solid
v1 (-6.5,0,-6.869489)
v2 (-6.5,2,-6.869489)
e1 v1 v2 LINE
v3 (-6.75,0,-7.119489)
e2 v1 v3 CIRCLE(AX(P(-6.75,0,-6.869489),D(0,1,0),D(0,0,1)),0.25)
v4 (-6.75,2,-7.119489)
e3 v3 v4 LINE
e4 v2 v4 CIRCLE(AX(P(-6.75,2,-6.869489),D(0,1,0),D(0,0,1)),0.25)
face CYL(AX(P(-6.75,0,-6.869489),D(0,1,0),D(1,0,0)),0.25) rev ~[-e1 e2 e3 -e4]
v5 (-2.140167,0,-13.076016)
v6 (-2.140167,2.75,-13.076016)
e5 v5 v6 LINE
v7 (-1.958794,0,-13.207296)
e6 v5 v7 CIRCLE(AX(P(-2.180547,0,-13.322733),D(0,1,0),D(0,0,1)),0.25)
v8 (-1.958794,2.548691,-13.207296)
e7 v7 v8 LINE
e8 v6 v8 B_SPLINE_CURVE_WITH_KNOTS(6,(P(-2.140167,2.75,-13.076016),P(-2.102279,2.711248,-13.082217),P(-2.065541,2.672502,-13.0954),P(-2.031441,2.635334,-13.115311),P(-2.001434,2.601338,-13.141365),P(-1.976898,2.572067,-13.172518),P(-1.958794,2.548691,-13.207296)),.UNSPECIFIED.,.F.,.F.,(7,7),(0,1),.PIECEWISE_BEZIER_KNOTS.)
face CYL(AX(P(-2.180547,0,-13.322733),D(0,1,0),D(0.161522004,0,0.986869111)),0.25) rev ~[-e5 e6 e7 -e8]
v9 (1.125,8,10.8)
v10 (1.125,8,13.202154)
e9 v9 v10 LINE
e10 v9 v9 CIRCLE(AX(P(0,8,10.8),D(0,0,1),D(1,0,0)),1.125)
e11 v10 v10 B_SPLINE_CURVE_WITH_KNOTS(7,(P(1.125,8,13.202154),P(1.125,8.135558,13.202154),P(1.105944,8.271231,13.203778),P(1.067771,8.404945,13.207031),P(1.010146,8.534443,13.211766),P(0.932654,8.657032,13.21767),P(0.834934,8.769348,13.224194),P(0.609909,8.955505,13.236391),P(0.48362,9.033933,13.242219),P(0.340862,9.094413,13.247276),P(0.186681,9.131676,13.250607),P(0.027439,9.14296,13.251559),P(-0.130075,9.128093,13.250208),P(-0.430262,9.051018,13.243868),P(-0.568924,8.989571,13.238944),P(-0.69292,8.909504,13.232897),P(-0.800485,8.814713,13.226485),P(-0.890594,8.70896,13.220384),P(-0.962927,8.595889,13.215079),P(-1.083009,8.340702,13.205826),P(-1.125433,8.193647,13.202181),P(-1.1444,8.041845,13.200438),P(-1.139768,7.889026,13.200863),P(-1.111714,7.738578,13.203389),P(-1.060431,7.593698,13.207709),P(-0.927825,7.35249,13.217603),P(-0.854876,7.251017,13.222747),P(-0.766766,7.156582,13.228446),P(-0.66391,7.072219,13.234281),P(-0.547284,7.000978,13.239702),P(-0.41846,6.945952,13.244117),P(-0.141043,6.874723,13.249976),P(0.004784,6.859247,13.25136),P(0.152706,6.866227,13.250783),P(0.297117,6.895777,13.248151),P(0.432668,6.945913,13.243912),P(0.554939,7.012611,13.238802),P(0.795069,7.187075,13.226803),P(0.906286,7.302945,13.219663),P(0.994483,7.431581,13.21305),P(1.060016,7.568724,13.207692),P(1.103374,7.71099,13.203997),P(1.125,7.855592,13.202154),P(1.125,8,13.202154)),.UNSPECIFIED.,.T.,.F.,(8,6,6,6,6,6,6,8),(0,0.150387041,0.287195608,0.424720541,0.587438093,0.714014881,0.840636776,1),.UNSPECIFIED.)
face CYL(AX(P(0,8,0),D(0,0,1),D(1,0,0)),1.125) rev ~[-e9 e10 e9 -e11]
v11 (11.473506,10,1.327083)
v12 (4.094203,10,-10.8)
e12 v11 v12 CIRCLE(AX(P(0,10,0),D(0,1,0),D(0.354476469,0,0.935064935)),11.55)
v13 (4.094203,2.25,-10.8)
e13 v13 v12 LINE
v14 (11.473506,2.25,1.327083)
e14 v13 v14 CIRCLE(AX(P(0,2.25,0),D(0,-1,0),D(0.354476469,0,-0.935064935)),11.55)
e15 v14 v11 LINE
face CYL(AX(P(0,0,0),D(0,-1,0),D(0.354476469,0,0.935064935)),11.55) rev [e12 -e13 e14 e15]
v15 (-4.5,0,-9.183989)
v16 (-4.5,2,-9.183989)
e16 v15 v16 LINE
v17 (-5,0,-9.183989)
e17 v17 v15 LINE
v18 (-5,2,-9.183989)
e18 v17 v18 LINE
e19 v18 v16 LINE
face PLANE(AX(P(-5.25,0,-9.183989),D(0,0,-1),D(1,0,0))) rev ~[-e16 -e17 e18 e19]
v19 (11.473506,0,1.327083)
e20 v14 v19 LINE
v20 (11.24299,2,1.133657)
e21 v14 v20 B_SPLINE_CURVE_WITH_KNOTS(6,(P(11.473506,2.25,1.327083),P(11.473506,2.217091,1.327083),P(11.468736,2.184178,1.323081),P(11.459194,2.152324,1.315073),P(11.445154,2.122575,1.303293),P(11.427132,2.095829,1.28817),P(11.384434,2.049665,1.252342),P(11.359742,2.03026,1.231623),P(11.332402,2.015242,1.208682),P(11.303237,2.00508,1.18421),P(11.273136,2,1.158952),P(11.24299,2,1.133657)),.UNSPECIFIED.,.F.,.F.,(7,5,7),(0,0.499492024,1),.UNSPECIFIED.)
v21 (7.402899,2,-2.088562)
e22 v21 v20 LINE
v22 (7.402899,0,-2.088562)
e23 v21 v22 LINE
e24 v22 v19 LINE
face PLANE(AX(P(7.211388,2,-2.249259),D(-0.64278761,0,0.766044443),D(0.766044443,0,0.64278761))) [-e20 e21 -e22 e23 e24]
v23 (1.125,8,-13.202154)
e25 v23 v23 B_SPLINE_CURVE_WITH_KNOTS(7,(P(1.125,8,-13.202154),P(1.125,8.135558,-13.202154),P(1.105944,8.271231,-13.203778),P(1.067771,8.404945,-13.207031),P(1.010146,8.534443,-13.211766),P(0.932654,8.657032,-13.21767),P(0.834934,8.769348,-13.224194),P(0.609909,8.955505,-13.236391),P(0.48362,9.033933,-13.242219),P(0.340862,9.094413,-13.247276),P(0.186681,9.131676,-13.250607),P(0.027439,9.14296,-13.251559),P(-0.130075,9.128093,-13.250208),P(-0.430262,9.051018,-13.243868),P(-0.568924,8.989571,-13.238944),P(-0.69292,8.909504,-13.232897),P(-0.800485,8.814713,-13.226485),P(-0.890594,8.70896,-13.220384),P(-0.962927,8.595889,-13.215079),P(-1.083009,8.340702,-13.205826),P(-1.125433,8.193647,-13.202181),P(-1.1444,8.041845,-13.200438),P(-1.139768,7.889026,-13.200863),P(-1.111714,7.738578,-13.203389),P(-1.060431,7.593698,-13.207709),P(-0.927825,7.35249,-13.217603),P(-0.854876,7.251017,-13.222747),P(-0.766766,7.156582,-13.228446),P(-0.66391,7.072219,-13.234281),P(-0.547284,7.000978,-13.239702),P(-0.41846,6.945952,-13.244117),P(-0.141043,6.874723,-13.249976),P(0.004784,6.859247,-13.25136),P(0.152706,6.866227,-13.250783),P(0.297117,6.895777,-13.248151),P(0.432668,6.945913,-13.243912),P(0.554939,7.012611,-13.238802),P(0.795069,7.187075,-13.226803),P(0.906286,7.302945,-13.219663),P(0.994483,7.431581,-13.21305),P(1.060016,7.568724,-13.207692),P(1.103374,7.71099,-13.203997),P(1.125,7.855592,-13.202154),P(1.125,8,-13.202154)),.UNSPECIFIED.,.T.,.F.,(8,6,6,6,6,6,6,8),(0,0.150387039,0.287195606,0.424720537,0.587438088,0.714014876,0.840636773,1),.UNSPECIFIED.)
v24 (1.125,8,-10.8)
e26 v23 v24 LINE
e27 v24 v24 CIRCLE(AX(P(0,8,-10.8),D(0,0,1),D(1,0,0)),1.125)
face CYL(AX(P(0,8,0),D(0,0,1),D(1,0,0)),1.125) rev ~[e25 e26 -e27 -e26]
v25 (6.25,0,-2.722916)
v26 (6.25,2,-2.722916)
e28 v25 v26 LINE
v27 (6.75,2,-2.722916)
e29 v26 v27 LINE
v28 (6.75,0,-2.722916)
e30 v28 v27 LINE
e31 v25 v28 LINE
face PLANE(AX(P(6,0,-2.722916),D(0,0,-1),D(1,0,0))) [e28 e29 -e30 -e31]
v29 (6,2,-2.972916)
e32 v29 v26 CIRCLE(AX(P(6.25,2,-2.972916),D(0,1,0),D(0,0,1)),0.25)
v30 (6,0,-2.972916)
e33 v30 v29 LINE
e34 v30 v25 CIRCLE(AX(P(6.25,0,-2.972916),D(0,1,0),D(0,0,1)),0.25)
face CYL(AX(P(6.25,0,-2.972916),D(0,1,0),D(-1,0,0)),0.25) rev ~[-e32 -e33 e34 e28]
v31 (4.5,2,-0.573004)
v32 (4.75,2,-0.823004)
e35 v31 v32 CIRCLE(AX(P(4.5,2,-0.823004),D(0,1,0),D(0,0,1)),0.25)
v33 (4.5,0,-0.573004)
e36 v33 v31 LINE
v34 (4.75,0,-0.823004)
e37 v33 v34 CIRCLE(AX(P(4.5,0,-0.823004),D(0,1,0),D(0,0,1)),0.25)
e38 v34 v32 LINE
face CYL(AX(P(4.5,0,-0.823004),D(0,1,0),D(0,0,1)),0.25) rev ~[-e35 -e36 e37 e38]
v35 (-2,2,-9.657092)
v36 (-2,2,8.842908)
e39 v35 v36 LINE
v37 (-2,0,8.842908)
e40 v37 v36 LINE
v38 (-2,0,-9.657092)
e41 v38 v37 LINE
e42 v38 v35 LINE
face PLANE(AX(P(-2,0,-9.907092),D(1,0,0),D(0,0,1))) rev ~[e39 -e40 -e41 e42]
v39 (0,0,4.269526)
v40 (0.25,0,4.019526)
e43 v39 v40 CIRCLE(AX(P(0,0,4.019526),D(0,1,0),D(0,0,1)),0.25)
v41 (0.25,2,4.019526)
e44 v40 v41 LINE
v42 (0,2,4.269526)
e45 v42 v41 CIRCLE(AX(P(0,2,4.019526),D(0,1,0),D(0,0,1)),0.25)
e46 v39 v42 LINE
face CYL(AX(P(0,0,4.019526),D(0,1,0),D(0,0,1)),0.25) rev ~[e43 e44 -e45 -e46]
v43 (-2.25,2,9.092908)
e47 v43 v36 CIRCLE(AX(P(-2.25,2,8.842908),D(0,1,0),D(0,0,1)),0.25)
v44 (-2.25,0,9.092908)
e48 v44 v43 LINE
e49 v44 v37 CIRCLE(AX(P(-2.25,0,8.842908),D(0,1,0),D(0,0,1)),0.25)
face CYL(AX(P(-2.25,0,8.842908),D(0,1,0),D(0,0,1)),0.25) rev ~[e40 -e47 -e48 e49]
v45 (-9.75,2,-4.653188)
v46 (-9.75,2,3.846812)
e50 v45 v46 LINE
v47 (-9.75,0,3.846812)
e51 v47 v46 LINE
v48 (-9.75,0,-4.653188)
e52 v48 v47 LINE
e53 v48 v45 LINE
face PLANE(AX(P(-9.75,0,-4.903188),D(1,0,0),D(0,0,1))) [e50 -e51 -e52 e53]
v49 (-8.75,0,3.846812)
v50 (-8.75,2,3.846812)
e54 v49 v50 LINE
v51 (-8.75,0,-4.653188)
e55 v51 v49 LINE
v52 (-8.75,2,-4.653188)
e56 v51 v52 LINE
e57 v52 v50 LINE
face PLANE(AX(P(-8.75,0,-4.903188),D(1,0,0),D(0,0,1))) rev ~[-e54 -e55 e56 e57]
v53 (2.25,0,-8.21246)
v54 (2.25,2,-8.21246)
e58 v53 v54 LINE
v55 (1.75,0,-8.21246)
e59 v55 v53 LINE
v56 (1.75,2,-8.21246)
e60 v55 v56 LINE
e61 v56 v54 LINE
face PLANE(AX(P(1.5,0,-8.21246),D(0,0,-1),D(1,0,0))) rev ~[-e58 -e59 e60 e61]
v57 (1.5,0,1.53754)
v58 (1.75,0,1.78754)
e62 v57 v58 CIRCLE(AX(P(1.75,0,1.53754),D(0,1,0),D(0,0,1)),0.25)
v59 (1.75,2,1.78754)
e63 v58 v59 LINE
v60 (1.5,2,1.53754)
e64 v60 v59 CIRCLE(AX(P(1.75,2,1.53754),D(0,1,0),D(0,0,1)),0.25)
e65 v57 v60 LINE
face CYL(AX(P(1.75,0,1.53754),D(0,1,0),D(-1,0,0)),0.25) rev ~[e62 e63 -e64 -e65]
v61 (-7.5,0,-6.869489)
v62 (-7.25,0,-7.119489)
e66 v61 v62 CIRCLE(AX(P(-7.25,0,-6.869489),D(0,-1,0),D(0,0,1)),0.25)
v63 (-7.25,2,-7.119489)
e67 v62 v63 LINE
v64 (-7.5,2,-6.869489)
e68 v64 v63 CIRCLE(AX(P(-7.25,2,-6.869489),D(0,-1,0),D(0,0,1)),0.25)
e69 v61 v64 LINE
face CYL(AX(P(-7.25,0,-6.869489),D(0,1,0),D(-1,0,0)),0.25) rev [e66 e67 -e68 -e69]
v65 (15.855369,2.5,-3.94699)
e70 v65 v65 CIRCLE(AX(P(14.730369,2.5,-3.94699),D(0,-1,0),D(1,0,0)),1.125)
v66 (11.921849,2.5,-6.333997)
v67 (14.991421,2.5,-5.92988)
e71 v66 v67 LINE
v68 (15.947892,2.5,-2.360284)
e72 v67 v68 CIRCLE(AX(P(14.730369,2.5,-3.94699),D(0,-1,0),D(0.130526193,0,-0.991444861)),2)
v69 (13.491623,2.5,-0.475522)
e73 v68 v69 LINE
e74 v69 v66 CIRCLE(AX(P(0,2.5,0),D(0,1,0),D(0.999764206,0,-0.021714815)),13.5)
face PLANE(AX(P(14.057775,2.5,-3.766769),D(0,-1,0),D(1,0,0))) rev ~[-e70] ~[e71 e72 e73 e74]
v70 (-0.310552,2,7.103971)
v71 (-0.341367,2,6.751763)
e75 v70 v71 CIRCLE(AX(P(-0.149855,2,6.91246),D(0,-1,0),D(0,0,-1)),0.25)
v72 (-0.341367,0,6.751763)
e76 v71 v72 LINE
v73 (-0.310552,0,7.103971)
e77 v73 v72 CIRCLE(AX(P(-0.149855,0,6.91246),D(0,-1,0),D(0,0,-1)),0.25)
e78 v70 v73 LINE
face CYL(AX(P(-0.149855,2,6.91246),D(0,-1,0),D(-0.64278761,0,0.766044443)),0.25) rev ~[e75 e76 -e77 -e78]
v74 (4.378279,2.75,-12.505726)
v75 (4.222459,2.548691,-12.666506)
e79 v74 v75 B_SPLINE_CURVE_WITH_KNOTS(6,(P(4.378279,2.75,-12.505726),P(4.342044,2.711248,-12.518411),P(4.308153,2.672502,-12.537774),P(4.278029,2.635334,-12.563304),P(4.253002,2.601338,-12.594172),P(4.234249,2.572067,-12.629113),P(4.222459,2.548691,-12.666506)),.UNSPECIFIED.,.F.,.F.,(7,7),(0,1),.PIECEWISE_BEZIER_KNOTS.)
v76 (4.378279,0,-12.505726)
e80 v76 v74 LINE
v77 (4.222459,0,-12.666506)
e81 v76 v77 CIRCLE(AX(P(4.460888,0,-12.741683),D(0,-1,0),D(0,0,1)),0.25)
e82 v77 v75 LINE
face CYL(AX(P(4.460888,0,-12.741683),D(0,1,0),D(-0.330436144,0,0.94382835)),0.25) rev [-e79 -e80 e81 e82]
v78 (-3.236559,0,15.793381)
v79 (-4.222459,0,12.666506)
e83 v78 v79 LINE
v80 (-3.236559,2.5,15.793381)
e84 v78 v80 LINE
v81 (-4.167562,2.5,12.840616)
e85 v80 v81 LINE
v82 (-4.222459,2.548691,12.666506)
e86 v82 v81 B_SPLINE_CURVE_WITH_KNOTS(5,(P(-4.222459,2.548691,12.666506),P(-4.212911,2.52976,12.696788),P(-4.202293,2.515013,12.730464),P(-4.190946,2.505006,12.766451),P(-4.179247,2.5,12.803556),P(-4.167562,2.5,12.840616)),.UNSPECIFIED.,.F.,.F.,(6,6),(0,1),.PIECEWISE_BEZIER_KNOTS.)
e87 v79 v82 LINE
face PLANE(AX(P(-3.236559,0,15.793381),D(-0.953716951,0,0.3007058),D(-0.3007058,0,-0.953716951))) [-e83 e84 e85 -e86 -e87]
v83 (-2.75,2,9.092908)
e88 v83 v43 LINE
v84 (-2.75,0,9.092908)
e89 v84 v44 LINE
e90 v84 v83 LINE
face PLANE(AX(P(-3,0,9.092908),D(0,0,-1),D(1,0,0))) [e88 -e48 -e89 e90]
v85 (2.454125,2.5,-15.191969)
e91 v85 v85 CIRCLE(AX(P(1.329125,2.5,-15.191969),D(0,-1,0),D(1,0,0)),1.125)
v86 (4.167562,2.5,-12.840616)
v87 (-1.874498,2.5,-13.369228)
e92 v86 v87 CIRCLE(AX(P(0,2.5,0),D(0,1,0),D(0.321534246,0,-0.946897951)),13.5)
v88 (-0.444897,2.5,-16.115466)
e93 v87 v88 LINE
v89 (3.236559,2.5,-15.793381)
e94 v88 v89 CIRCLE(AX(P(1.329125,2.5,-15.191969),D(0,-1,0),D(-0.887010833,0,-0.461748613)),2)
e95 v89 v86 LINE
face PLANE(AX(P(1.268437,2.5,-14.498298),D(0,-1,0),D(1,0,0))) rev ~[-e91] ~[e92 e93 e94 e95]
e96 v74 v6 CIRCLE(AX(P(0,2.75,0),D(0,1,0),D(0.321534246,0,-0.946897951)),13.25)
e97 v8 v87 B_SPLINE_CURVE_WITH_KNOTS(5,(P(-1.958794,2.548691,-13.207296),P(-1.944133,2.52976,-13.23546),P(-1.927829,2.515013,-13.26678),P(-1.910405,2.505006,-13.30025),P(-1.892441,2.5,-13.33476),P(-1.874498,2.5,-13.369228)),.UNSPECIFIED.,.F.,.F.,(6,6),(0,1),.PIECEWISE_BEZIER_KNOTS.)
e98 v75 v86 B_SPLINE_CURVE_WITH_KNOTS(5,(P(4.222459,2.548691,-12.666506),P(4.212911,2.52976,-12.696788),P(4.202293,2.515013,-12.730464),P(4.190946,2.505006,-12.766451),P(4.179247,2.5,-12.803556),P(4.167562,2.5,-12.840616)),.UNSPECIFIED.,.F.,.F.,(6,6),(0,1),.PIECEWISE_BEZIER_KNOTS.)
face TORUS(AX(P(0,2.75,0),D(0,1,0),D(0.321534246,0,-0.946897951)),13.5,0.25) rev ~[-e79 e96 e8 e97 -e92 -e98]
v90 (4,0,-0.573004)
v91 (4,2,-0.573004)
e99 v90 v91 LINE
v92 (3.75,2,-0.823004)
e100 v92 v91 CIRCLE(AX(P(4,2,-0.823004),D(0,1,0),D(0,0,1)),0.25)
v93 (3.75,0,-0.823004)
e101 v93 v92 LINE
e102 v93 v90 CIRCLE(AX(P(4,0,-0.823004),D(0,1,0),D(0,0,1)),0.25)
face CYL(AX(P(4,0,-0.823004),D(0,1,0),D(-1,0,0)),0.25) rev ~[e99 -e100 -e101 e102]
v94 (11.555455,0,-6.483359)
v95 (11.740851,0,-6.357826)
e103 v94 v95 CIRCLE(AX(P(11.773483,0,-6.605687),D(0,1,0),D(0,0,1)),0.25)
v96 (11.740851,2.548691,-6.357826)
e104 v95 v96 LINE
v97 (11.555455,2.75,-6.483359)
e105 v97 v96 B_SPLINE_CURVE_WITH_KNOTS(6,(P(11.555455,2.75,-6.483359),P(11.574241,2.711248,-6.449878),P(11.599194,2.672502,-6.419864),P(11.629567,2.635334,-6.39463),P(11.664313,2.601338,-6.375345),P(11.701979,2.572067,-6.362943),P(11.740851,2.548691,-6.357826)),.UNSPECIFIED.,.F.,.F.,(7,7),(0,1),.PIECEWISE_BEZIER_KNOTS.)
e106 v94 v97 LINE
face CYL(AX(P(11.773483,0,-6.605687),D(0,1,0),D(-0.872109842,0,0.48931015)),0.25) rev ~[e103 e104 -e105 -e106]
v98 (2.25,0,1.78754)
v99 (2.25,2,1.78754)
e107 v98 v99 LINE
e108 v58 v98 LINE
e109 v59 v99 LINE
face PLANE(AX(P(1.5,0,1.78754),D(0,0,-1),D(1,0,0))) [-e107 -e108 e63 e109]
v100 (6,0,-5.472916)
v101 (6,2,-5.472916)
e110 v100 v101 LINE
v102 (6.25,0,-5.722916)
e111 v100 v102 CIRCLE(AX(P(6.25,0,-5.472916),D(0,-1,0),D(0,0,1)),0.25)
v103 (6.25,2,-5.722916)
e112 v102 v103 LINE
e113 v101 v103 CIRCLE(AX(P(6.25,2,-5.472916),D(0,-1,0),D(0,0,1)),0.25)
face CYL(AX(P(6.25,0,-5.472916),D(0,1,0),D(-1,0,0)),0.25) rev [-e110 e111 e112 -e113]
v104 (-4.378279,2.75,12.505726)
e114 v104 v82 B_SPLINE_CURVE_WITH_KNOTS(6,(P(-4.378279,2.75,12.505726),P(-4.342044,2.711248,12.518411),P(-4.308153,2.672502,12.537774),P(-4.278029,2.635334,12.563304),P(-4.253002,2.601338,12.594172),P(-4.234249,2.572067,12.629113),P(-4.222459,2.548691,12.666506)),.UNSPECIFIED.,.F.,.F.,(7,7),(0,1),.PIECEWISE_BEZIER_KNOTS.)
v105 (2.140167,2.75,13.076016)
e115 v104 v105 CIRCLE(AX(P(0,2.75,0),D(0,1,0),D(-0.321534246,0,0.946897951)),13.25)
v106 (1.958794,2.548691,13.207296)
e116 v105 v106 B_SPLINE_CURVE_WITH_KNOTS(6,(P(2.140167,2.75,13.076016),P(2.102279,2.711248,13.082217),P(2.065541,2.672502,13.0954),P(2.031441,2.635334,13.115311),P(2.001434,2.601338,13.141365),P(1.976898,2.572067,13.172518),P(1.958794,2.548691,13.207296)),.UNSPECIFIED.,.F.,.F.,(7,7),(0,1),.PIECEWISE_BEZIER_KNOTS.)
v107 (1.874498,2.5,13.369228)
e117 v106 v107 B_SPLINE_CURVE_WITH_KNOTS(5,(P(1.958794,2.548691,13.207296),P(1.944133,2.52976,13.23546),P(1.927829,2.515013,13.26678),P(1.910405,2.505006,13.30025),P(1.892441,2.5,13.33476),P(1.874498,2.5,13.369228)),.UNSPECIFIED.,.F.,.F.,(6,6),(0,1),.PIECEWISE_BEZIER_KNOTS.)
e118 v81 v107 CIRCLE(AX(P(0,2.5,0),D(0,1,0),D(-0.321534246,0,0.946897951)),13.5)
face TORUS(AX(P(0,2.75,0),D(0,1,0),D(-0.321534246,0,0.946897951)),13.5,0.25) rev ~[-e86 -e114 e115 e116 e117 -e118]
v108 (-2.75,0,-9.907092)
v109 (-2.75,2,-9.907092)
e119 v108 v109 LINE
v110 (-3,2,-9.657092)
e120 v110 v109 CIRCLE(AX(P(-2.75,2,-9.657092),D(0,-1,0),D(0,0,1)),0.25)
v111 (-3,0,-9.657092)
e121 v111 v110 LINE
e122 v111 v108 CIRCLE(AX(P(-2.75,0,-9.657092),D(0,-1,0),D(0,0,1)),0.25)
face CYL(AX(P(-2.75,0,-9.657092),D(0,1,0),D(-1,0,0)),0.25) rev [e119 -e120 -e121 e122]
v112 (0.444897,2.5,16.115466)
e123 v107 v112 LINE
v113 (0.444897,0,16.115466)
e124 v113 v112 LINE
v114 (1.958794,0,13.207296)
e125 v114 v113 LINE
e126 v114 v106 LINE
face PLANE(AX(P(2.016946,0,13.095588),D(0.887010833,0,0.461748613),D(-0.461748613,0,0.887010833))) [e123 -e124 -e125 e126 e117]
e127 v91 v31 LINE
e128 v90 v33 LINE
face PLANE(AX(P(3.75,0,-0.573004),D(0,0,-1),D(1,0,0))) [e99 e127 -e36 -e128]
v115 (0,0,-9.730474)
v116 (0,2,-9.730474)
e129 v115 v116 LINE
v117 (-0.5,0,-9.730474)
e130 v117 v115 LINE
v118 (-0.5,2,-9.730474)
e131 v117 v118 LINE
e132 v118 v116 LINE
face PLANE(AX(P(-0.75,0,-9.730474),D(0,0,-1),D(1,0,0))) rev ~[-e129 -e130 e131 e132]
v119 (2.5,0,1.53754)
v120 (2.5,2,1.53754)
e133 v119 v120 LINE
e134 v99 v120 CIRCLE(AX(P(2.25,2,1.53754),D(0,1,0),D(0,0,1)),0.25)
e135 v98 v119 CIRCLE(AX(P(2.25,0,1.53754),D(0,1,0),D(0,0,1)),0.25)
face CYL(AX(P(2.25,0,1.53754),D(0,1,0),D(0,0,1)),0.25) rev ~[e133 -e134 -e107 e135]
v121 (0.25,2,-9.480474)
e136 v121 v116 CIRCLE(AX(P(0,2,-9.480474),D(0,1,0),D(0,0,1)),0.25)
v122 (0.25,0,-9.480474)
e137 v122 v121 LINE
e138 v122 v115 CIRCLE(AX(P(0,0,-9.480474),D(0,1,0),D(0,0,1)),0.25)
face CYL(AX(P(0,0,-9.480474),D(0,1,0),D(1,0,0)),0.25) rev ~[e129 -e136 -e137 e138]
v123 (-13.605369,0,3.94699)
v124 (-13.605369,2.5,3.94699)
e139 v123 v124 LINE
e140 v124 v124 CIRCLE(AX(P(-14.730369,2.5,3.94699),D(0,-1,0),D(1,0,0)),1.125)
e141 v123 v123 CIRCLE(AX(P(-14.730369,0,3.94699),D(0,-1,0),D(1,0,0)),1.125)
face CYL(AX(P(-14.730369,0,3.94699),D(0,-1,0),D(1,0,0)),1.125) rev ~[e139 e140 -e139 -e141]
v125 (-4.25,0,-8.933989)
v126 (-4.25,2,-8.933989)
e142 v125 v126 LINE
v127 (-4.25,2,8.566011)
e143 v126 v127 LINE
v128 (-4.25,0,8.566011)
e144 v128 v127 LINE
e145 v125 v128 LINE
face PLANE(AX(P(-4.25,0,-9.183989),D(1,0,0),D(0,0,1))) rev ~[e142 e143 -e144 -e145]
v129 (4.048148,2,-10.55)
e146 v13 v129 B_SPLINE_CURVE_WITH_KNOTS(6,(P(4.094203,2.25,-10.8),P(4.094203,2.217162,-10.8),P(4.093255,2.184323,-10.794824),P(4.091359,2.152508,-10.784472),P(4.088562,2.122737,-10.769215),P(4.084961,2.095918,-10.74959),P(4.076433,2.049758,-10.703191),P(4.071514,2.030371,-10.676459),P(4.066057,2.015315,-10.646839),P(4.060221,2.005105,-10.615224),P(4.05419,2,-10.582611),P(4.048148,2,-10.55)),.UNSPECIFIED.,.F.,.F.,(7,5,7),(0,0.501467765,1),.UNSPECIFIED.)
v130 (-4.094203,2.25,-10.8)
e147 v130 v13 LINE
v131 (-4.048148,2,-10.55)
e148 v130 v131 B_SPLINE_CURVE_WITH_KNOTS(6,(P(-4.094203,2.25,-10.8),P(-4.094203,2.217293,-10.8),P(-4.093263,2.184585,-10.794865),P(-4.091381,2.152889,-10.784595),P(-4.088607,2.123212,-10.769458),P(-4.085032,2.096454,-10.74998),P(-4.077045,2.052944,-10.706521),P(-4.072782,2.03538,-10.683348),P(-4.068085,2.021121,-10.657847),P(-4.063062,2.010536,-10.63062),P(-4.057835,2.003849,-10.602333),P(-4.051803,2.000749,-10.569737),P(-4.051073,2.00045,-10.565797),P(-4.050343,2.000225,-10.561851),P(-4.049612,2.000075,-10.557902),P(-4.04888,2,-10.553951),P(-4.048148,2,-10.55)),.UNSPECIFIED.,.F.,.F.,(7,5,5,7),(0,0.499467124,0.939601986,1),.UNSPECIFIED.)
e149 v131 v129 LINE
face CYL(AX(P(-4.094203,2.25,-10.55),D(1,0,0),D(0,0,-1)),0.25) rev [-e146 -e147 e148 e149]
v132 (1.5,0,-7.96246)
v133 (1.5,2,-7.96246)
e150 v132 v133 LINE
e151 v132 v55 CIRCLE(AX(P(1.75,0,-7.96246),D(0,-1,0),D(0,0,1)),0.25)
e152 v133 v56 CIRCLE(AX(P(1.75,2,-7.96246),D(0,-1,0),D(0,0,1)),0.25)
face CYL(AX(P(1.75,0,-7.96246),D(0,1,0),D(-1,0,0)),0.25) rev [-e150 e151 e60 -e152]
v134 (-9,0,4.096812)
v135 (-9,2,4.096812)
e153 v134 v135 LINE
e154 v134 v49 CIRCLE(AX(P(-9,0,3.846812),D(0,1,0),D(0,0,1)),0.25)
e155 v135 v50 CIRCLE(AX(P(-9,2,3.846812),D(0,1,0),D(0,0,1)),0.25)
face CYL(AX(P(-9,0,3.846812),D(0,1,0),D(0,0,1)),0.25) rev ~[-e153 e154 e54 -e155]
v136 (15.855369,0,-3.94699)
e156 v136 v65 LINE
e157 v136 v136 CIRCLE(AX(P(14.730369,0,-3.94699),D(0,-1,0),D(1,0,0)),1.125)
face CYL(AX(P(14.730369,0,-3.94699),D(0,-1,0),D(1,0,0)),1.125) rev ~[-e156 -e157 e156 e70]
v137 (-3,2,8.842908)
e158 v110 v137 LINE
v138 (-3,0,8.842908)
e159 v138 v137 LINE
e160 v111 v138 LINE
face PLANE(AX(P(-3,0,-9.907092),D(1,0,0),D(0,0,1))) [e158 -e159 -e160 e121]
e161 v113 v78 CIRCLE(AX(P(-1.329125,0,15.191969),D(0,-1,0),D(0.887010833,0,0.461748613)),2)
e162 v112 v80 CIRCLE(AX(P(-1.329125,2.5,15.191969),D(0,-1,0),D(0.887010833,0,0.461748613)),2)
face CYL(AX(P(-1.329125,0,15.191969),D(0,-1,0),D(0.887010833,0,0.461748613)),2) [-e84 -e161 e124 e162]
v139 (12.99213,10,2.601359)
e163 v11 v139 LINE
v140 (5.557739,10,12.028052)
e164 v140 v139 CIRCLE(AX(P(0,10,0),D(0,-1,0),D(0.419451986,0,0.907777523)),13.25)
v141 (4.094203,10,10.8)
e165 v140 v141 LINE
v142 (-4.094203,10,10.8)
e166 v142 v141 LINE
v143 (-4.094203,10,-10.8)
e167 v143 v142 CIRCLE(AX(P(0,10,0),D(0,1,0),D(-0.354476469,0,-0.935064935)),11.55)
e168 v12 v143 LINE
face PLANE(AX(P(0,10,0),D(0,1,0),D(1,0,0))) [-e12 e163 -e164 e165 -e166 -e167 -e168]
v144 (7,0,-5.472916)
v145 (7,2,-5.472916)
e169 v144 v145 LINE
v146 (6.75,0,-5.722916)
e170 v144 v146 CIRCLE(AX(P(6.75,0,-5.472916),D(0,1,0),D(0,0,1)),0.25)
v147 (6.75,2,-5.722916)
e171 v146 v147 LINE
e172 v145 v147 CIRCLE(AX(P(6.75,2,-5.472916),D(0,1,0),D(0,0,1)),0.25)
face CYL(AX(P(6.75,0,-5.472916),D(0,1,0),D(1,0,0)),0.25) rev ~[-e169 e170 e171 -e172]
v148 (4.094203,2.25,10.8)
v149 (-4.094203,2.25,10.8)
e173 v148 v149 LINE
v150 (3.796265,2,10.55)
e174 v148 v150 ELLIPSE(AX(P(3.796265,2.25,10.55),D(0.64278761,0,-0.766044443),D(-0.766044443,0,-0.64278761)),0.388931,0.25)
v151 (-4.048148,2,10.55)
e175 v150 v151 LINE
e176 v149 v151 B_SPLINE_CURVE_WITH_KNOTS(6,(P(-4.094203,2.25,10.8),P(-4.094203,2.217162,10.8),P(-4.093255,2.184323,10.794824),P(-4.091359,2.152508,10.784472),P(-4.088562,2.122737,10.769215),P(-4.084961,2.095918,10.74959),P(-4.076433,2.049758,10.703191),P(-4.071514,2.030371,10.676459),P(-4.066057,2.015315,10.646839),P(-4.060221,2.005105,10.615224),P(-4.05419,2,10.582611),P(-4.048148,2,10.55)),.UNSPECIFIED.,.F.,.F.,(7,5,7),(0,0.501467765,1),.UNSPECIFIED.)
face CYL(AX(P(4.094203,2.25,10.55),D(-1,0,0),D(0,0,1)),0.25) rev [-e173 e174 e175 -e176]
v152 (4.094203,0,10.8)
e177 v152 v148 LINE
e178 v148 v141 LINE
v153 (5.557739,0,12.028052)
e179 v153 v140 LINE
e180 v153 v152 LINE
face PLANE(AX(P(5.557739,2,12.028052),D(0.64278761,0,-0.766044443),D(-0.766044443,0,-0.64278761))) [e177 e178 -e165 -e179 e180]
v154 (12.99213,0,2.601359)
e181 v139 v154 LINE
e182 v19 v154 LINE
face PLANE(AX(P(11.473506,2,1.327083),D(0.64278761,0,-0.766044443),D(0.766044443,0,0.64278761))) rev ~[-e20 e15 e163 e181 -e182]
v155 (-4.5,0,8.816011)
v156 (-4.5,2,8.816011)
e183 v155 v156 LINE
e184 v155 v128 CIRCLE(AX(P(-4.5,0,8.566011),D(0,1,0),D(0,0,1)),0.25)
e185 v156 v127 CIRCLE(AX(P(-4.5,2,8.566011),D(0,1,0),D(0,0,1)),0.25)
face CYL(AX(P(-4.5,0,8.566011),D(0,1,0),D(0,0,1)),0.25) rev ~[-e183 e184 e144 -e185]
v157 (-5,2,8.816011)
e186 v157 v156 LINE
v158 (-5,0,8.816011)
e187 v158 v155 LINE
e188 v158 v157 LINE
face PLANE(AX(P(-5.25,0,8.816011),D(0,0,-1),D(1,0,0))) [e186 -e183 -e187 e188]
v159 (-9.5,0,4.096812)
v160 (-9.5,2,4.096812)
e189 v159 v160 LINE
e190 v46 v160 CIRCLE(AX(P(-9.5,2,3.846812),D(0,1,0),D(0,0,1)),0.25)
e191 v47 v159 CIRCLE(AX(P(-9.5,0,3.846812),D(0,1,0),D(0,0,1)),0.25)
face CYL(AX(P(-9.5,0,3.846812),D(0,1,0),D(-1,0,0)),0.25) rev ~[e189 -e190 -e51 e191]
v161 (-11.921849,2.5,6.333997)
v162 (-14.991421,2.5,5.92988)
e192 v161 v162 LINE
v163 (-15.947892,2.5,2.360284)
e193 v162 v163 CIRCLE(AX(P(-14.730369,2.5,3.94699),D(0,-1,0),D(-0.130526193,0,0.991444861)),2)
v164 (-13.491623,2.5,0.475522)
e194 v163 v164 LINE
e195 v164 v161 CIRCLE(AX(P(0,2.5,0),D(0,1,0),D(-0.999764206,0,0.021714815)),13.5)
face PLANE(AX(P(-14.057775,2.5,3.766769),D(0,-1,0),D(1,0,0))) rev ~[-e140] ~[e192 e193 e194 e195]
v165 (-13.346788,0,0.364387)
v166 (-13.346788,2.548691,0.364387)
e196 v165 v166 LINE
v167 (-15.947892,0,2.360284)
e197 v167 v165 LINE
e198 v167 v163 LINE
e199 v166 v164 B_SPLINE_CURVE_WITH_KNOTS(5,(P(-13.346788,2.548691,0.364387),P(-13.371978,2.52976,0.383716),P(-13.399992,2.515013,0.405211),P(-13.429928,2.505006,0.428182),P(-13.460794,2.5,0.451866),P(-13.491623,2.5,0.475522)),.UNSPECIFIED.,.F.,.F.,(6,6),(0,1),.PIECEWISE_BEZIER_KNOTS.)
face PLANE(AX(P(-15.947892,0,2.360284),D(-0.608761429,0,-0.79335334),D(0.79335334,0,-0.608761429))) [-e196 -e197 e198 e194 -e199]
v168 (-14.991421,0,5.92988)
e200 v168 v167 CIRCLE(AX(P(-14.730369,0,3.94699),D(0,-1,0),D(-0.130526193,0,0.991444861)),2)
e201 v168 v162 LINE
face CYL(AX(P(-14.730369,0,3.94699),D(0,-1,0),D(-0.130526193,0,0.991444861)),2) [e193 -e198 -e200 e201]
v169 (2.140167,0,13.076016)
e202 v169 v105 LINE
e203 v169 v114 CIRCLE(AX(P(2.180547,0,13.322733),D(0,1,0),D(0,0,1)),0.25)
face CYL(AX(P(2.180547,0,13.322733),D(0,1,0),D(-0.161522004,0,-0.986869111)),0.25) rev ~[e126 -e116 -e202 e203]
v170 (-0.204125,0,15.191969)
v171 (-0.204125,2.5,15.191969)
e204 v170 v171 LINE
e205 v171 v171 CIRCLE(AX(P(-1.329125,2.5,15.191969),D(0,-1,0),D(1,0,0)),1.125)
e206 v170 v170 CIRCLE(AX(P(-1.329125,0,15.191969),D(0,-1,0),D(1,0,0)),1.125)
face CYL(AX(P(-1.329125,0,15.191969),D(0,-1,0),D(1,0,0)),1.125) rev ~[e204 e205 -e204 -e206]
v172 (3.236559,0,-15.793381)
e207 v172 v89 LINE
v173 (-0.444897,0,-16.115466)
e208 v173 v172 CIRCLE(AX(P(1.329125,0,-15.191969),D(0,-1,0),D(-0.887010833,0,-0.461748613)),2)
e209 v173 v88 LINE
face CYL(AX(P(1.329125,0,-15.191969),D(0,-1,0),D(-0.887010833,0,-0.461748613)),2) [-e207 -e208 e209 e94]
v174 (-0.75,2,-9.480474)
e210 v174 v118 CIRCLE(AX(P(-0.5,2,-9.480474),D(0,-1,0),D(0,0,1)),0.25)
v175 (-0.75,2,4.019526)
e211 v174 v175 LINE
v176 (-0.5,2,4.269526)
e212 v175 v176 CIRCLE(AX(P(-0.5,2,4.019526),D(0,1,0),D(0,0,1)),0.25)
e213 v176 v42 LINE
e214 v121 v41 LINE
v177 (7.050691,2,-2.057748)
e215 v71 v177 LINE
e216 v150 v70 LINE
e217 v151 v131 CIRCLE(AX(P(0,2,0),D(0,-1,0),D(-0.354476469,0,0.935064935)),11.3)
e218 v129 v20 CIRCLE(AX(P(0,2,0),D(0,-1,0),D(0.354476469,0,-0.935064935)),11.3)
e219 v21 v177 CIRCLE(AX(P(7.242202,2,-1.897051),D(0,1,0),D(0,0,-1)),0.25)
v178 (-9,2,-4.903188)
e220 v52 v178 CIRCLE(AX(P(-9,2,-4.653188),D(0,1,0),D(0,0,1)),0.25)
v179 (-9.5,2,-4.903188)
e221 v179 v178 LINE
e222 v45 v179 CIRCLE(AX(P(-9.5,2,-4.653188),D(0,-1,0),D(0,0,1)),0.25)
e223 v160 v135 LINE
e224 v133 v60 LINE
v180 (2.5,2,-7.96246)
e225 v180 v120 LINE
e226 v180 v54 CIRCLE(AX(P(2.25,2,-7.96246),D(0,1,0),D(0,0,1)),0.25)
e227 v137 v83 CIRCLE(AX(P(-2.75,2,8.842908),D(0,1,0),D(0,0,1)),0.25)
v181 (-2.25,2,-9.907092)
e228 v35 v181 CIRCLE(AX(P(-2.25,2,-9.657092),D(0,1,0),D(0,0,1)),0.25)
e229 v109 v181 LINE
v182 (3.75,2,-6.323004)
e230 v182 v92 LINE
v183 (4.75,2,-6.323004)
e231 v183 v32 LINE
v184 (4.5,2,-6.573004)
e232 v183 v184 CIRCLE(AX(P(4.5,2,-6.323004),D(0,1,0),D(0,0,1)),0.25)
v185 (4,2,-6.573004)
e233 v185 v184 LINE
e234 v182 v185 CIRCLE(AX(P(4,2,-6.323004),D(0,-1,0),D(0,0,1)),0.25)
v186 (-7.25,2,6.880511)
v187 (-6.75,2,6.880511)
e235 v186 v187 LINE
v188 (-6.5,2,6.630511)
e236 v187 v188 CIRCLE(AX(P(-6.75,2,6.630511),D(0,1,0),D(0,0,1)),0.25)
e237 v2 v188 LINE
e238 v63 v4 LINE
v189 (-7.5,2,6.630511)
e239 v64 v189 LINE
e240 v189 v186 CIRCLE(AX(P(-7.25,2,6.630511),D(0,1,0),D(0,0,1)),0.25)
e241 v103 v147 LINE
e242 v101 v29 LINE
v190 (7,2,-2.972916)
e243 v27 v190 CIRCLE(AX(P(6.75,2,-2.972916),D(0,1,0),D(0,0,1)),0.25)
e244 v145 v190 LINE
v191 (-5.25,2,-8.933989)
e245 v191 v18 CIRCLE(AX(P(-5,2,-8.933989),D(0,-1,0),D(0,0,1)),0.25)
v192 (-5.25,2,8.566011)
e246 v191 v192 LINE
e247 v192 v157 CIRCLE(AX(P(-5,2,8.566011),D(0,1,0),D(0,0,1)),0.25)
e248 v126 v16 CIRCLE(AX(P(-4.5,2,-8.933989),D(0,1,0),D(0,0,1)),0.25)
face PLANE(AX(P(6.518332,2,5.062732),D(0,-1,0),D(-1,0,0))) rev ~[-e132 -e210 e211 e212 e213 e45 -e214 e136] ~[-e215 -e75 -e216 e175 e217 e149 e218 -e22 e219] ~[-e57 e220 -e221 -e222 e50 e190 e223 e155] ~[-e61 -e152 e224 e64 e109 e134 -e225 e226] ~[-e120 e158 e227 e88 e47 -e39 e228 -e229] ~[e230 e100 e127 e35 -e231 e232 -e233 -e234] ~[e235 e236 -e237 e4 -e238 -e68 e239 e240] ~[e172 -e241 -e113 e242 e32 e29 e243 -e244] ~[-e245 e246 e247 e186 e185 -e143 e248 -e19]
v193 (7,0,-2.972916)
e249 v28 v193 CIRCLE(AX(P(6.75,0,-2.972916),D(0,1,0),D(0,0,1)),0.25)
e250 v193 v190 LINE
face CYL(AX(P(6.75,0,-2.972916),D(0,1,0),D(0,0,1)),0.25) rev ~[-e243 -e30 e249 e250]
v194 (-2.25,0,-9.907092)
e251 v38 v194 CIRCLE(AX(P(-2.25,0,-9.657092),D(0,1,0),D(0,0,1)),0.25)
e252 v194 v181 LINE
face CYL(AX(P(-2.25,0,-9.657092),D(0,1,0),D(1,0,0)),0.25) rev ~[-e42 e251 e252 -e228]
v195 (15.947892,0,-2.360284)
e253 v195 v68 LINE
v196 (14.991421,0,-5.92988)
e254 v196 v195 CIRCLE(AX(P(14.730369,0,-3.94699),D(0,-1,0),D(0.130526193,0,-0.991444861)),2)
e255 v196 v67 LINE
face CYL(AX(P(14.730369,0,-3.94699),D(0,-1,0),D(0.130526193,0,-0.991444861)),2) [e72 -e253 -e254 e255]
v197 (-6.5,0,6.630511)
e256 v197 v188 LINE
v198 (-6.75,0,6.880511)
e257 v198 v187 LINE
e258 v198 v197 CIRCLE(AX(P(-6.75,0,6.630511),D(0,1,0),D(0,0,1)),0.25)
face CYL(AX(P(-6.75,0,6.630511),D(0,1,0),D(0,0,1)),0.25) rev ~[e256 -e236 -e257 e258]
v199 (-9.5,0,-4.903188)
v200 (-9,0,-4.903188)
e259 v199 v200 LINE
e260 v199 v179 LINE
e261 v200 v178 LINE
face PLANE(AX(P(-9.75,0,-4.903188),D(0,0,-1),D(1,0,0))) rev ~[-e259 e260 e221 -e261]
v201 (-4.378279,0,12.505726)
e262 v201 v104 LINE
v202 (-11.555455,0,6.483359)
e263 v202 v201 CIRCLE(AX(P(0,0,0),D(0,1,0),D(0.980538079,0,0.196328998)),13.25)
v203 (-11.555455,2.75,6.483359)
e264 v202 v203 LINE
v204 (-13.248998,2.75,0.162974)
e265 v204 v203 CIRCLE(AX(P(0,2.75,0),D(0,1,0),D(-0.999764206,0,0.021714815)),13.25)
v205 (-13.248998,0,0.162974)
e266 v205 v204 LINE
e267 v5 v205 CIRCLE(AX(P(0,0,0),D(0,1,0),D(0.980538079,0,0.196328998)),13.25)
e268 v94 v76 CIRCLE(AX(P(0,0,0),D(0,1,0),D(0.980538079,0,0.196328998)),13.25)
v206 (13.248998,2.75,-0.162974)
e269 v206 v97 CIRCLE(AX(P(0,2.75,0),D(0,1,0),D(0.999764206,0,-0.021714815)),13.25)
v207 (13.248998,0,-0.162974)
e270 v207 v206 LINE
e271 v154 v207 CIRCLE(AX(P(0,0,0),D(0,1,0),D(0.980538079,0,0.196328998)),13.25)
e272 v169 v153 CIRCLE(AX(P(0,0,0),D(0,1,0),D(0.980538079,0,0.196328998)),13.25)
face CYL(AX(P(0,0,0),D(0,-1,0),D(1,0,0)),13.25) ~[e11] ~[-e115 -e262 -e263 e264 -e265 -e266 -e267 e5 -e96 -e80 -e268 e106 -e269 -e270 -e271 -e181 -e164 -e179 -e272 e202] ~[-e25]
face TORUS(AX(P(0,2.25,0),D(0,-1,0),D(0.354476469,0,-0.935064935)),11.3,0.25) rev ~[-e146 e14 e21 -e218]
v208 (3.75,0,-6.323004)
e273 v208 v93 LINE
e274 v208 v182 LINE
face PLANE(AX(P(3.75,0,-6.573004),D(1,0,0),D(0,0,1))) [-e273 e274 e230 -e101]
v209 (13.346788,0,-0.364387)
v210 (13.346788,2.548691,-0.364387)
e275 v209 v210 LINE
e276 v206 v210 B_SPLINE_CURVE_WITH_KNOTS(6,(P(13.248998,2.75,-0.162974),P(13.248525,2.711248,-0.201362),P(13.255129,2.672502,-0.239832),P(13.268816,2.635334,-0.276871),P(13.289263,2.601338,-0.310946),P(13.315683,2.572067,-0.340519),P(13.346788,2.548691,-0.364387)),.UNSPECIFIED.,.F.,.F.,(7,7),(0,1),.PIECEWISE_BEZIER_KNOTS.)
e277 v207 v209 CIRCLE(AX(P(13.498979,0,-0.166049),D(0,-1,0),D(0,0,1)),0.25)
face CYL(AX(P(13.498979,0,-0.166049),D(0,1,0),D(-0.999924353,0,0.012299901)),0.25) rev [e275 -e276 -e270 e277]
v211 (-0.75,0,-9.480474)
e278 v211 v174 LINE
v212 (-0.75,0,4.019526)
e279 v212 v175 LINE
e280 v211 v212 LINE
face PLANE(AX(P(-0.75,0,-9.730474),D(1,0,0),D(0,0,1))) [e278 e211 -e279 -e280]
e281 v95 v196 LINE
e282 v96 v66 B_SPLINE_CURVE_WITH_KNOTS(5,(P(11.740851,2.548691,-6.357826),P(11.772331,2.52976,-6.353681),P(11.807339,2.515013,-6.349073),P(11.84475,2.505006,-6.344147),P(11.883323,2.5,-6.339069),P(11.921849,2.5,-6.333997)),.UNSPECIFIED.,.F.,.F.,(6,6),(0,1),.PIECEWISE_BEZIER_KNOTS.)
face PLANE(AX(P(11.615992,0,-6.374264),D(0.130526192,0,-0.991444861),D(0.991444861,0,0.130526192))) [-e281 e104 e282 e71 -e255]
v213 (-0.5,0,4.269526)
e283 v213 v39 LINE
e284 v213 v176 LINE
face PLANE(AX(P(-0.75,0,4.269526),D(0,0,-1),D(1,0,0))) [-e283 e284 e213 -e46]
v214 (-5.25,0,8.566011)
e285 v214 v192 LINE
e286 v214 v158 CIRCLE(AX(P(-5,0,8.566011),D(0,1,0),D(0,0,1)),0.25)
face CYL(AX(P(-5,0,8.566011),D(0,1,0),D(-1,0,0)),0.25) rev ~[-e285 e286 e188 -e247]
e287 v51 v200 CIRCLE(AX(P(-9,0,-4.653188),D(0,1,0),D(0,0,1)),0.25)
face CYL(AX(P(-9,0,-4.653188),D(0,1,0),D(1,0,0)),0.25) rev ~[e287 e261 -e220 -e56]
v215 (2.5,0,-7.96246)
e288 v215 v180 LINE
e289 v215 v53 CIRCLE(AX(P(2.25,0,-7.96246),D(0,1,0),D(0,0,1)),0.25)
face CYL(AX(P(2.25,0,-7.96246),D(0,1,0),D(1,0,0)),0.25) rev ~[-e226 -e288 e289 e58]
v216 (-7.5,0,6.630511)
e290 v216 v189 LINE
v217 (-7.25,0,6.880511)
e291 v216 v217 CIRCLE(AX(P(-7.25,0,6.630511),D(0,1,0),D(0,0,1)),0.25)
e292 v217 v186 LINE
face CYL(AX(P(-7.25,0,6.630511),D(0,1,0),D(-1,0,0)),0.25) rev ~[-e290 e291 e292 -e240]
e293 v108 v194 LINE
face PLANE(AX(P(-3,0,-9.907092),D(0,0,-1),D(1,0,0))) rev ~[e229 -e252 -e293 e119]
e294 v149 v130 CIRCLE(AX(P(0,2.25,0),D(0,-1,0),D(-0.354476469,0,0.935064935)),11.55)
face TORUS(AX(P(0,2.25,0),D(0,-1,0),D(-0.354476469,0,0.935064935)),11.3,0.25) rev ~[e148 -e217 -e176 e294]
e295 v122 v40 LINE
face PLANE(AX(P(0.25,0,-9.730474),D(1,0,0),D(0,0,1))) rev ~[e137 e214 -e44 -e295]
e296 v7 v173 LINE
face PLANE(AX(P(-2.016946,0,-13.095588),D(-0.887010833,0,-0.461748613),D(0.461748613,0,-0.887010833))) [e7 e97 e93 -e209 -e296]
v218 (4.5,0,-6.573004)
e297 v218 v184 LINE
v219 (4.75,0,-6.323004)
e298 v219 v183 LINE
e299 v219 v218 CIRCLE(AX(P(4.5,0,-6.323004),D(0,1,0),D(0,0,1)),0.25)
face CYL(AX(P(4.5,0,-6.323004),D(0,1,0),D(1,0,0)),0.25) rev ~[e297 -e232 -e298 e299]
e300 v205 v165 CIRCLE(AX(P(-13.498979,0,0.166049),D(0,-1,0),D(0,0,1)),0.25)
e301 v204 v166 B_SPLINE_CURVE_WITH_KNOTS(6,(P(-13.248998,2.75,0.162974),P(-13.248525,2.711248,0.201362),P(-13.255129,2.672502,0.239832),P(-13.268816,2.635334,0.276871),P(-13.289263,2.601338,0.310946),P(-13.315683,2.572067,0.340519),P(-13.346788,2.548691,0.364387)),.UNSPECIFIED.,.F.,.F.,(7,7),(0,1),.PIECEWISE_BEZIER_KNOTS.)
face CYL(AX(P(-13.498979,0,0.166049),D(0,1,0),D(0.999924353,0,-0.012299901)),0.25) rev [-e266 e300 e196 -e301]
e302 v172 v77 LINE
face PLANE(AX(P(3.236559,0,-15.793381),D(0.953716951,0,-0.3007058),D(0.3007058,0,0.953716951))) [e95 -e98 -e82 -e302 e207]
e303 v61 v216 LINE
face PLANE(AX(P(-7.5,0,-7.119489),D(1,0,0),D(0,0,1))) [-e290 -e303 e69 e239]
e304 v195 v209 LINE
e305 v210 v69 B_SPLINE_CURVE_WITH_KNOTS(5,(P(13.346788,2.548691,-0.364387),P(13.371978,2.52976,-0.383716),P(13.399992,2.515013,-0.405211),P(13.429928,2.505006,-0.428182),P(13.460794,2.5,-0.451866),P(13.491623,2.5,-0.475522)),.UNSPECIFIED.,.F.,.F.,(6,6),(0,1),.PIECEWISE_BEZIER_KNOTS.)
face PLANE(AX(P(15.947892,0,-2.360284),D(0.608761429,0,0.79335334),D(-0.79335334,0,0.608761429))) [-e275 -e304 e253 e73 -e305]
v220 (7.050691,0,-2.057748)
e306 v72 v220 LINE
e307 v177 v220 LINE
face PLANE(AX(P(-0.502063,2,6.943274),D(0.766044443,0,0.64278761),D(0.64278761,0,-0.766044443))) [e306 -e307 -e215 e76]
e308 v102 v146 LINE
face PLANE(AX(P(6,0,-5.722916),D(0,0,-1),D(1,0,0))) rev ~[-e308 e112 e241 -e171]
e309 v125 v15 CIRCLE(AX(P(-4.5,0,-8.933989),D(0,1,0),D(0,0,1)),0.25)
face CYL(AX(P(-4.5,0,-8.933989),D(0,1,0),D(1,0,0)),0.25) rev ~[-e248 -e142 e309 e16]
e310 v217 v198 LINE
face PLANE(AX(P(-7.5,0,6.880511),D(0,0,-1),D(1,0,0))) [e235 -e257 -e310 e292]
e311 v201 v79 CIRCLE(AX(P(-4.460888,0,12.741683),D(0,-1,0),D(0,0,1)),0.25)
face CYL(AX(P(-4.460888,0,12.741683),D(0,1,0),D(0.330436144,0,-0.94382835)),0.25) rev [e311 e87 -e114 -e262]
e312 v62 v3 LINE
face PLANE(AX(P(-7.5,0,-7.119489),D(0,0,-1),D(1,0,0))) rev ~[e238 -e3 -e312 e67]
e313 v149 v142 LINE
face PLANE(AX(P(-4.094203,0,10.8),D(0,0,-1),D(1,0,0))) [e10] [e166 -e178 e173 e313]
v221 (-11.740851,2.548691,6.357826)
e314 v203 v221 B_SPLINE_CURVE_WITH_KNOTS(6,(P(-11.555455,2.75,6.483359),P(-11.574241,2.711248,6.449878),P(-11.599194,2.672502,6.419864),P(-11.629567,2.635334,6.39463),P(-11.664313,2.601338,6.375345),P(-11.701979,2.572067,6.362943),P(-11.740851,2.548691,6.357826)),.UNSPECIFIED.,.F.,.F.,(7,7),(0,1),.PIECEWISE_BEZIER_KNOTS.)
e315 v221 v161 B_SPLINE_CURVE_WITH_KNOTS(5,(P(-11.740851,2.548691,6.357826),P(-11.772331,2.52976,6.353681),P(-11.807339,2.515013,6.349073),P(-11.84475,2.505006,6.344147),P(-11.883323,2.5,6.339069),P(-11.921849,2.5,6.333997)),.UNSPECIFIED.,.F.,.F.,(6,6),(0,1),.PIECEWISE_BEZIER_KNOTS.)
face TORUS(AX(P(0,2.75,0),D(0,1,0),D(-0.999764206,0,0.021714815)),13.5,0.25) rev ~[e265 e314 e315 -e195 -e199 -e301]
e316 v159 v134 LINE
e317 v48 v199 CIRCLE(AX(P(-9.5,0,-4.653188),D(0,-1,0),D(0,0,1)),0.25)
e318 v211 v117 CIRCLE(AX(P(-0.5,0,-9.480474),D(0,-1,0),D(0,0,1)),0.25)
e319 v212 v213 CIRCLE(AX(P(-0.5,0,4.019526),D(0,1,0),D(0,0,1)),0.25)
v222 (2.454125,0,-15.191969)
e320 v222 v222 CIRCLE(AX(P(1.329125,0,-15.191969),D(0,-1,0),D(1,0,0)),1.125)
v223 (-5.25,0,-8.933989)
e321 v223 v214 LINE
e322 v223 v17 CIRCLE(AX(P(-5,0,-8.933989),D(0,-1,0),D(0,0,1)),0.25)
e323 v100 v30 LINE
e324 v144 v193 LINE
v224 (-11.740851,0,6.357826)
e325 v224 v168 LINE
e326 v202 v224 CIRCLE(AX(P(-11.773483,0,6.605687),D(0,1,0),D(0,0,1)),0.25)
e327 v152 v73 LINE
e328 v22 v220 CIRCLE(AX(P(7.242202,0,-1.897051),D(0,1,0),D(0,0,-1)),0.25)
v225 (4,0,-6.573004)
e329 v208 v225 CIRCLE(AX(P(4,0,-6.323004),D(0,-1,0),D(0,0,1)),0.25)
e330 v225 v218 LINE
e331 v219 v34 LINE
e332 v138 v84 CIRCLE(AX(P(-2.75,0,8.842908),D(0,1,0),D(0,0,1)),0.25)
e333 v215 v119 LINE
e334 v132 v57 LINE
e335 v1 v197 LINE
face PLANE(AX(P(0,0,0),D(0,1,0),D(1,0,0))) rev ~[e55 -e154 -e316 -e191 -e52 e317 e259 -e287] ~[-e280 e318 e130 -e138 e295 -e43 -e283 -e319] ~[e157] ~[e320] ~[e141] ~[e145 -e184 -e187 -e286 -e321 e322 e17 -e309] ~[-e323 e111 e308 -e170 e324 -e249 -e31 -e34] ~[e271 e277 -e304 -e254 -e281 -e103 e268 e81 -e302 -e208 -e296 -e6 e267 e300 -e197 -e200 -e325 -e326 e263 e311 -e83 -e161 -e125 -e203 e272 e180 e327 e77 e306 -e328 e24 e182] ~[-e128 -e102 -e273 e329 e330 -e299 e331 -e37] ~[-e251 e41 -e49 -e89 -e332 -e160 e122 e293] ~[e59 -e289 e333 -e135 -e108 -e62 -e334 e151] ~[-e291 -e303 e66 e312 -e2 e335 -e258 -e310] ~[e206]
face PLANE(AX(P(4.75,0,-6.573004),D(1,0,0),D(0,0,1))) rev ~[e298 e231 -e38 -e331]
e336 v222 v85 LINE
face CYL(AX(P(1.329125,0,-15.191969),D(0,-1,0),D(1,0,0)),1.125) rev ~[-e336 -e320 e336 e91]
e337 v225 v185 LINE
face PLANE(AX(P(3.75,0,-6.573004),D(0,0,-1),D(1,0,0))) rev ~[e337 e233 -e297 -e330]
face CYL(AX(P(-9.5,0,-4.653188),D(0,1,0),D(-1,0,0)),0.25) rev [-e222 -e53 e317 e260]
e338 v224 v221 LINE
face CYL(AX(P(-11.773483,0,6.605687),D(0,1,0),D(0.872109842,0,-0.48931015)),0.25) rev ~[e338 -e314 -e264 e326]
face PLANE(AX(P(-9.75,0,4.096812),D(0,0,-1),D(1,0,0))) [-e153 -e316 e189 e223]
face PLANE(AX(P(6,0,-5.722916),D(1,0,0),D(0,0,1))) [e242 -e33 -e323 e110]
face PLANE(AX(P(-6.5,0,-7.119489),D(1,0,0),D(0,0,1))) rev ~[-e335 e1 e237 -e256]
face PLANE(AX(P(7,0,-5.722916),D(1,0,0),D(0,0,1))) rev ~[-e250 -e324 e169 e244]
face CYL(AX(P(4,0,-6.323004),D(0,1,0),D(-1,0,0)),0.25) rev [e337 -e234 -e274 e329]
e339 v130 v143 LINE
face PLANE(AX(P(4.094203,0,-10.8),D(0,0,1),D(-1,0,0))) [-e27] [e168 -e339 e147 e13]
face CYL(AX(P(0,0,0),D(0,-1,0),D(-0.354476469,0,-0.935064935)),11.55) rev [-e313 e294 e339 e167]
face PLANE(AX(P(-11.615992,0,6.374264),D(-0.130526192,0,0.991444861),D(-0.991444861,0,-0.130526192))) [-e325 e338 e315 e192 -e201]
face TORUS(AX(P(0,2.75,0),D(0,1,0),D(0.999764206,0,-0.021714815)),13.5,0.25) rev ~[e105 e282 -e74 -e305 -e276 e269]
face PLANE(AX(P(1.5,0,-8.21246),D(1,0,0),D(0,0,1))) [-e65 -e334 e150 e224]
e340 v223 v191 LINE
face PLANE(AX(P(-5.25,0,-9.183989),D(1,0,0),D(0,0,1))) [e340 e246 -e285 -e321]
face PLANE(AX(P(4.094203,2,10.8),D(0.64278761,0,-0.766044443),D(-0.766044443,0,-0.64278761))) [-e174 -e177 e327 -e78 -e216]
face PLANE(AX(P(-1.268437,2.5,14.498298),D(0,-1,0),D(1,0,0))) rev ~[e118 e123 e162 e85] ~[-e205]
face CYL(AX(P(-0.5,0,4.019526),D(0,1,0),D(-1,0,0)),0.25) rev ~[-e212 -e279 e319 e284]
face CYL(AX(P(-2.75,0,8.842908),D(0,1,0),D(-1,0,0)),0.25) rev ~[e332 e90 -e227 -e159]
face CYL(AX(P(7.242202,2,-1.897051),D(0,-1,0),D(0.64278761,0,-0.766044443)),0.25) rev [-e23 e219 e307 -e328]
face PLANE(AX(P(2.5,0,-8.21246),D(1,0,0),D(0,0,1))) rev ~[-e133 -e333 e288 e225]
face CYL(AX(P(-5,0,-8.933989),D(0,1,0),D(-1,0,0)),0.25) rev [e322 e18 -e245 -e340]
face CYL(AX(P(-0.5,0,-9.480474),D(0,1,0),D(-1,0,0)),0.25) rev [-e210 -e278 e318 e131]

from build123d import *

# Parameters (mm, degrees)
BOSS_EXTRUDE1_DEPTH = 2
SKETCH2_R           = 13.25
BOSS_EXTRUDE2_DEPTH = 10
CUT_EXTRUDE1_DEPTH  = 8
CUT_EXTRUDE3_DEPTH  = 2
SKETCH4_R           = 1.125
CUT_EXTRUDE4_DEPTH  = 15
SKETCH5_R           = 1.125
BOSS_EXTRUDE4_DEPTH = 2.5
FILLET2_R           = 0.25
SKETCH6_W           = 1
SKETCH6_H           = 9
SKETCH6_H_2         = 14
SKETCH6_H_3         = 18
SKETCH6_H_4         = 19
SKETCH6_H_5         = 10
SKETCH6_H_6         = 6
SKETCH6_H_7         = 3
CUT_EXTRUDE5_DEPTH  = 2
FILLET3_R           = 0.25


with BuildPart() as part:
    # Sketch1 → Boss-Extrude1 (new body)
    with BuildSketch(Plane(origin=(0, 0, 0), x_dir=(1, 0, 0), z_dir=(0, 1, 0))):
        with BuildLine():
            Line((-4.094203219, 10.8), (4.094203219, 10.8))
            ThreePointArc((4.094203219, 10.8), (11.55, 0), (4.094203219, -10.8))
            Line((4.094203219, -10.8), (-4.094203219, -10.8))
            ThreePointArc((-4.094203219, -10.8), (-11.55, 0), (-4.094203219, 10.8))
        make_face()
    extrude(amount=BOSS_EXTRUDE1_DEPTH)

    # Sketch2 → Boss-Extrude2 (add)
    with BuildSketch(Plane(origin=(0, 0, 0), x_dir=(1, 0, 0), z_dir=(0, 1, 0))):
        Circle(SKETCH2_R)
        with BuildLine():
            Line((-4.094203219, -10.8), (4.094203219, -10.8))
            ThreePointArc((4.094203219, -10.8), (11.55, 0), (4.094203219, 10.8))
            Line((4.094203219, 10.8), (-4.094203219, 10.8))
            ThreePointArc((-4.094203219, 10.8), (-11.55, 0), (-4.094203219, -10.8))
        make_face(mode=Mode.SUBTRACT)
    extrude(amount=BOSS_EXTRUDE2_DEPTH)

    # Sketch3 → Cut-Extrude1 (cut)
    with BuildSketch(Plane(origin=(0, 2, 0), x_dir=(1, 0, 0), z_dir=(0, 1, 0))):
        with BuildLine():
            Line((4.094203219, -10.8), (-0.50206344, -6.943274342))
            Line((-0.50206344, -6.943274342), (7.211387877, 2.249258976))
            Line((7.211387877, 2.249258976), (11.473506452, -1.327083149))
            Line((11.473506452, -1.327083149), (12.992129547, -2.601359228))
            ThreePointArc((12.992129547, -2.601359228), (10.403847321, -8.205026564), (5.557738817, -12.02805218))
            Line((5.557738817, -12.02805218), (4.094203219, -10.8))
        make_face()
    extrude(amount=CUT_EXTRUDE1_DEPTH, mode=Mode.SUBTRACT)

    # Sketch3<3> → Cut-Extrude3 (cut)
    with BuildSketch(Plane(origin=(0, 2, 0), x_dir=(1, 0, 0), z_dir=(0, 1, 0))):
        with BuildLine():
            Line((4.094203219, -10.8), (-0.50206344, -6.943274342))
            Line((-0.50206344, -6.943274342), (7.211387877, 2.249258976))
            Line((7.211387877, 2.249258976), (11.473506452, -1.327083149))
            Line((11.473506452, -1.327083149), (12.992129547, -2.601359228))
            ThreePointArc((12.992129547, -2.601359228), (10.403847321, -8.205026564), (5.557738817, -12.02805218))
            Line((5.557738817, -12.02805218), (4.094203219, -10.8))
        make_face()
    extrude(amount=-CUT_EXTRUDE3_DEPTH, mode=Mode.SUBTRACT)

    # Sketch4 → Cut-Extrude4 (cut, symmetric)
    with BuildSketch(Plane.XY):
        with Locations((0, 8)):
            Circle(SKETCH4_R)
    extrude(amount=CUT_EXTRUDE4_DEPTH, both=True, mode=Mode.SUBTRACT)

    # Sketch5 → Boss-Extrude4 (add)
    with BuildSketch(Plane.XZ):
        with BuildLine():
            Line((3.236558978, -15.793380745), (4.260328754, -12.546397846))
            ThreePointArc((4.260328754, -12.546397846), (1.154813591, -13.19957975), (-2.016945665, -13.095588195))
            Line((-2.016945665, -13.095588195), (-0.444896589, -16.115466372))
            ThreePointArc((-0.444896589, -16.115466372), (1.503436562, -17.184358542), (3.236558978, -15.793380745))
        make_face()
        with Locations((1.329125077, -15.191969146)):
            Circle(SKETCH5_R, mode=Mode.SUBTRACT)
        with BuildLine():
            Line((15.947891709, -2.360283757), (13.246875724, -0.287721297))
            ThreePointArc((13.246875724, -0.287721297), (12.798517198, -3.429352348), (11.615991547, -6.37426391))
            Line((11.615991547, -6.37426391), (14.991421235, -5.929880161))
            ThreePointArc((14.991421235, -5.929880161), (16.662220503, -4.464628528), (15.947891709, -2.360283757))
        make_face()
        with Locations((14.730368851, -3.946990438)):
            Circle(SKETCH5_R, mode=Mode.SUBTRACT)
        with BuildLine():
            Line((-3.236558978, 15.793380745), (-4.260328754, 12.546397846))
            ThreePointArc((-4.260328754, 12.546397846), (-1.154813591, 13.19957975), (2.016945665, 13.095588195))
            Line((2.016945665, 13.095588195), (0.444896589, 16.115466372))
            ThreePointArc((0.444896589, 16.115466372), (-1.503436562, 17.184358542), (-3.236558978, 15.793380745))
        make_face()
        with Locations((-1.329125077, 15.191969146)):
            Circle(SKETCH5_R, mode=Mode.SUBTRACT)
        with BuildLine():
            Line((-15.947891709, 2.360283757), (-13.246875724, 0.287721297))
            ThreePointArc((-13.246875724, 0.287721297), (-12.798517198, 3.429352348), (-11.615991547, 6.37426391))
            Line((-11.615991547, 6.37426391), (-14.991421235, 5.929880161))
            ThreePointArc((-14.991421235, 5.929880161), (-16.662220503, 4.464628528), (-15.947891709, 2.360283757))
        make_face()
        with Locations((-14.730368851, 3.946990438)):
            Circle(SKETCH5_R, mode=Mode.SUBTRACT)
    extrude(amount=-BOSS_EXTRUDE4_DEPTH)

    # Fillet2
    fillet2_edges = [part.edges().sort_by_distance(p)[0] for p in [
        (-1.154813591, 2.5, 13.19957975),
        (2.016945665, 1.25, 13.095588195),
        (-4.260328754, 1.25, 12.546397846),
        (-12.798517198, 2.5, 3.429352348),
        (-11.615991547, 1.25, 6.37426391),
        (-13.246875724, 1.25, 0.287721297),
        (0, 2, -10.8),
        (9.866860318, 2, -6.003962647),
        (-11.55, 2, 0),
        (-0.50206344, 1, 6.943274342),
        (7.211387877, 1, -2.249258976),
        (1.154813591, 2.5, -13.19957975),
        (-2.016945665, 1.25, -13.095588195),
        (4.260328754, 1.25, -12.546397846),
        (0, 2, 10.8),
        (12.798517198, 2.5, -3.429352348),
        (11.615991547, 1.25, -6.37426391),
        (13.246875724, 1.25, -0.287721297),
    ]]
    fillet(fillet2_edges, radius=FILLET2_R)

    # Sketch6 → Cut-Extrude5 (cut)
    with BuildSketch(Plane.XZ):
        with Locations((-9.25, -0.40318756)):
            Rectangle(SKETCH6_W, SKETCH6_H)
        with Locations((-7, -0.119489057)):
            Rectangle(SKETCH6_W, SKETCH6_H_2)
        with Locations((-4.75, -0.183989082)):
            Rectangle(SKETCH6_W, SKETCH6_H_3)
        with Locations((-2.5, -0.407091801)):
            Rectangle(SKETCH6_W, SKETCH6_H_4)
        with Locations((-0.25, -2.730474383)):
            Rectangle(SKETCH6_W, SKETCH6_H_2)
        with Locations((2, -3.212459658)):
            Rectangle(SKETCH6_W, SKETCH6_H_5)
        with Locations((4.25, -3.573003756)):
            Rectangle(SKETCH6_W, SKETCH6_H_6)
        with Locations((6.5, -4.222915511)):
            Rectangle(SKETCH6_W, SKETCH6_H_7)
    extrude(amount=-CUT_EXTRUDE5_DEPTH, mode=Mode.SUBTRACT)

    # Fillet3
    fillet3_edges = [part.edges().sort_by_distance(p)[0] for p in [
        (-8.75, 1, -4.90318756),
        (-8.75, 1, 4.09681244),
        (-9.75, 1, 4.09681244),
        (-9.75, 1, -4.90318756),
        (-6.5, 1, -7.119489057),
        (-6.5, 1, 6.880510943),
        (-7.5, 1, 6.880510943),
        (-7.5, 1, -7.119489057),
        (-4.25, 1, -9.183989082),
        (-4.25, 1, 8.816010918),
        (-5.25, 1, 8.816010918),
        (-5.25, 1, -9.183989082),
        (-2, 1, -9.907091801),
        (-2, 1, 9.092908199),
        (-3, 1, 9.092908199),
        (-3, 1, -9.907091801),
        (0.25, 1, -9.730474383),
        (0.25, 1, 4.269525617),
        (-0.75, 1, 4.269525617),
        (-0.75, 1, -9.730474383),
        (2.5, 1, -8.212459658),
        (2.5, 1, 1.787540342),
        (1.5, 1, 1.787540342),
        (1.5, 1, -8.212459658),
        (4.75, 1, -6.573003756),
        (4.75, 1, -0.573003756),
        (3.75, 1, -0.573003756),
        (3.75, 1, -6.573003756),
        (7, 1, -5.722915511),
        (7, 1, -2.722915511),
        (6, 1, -2.722915511),
        (6, 1, -5.722915511),
    ]]
    fillet(fillet3_edges, radius=FILLET3_R)


solid = part.part
